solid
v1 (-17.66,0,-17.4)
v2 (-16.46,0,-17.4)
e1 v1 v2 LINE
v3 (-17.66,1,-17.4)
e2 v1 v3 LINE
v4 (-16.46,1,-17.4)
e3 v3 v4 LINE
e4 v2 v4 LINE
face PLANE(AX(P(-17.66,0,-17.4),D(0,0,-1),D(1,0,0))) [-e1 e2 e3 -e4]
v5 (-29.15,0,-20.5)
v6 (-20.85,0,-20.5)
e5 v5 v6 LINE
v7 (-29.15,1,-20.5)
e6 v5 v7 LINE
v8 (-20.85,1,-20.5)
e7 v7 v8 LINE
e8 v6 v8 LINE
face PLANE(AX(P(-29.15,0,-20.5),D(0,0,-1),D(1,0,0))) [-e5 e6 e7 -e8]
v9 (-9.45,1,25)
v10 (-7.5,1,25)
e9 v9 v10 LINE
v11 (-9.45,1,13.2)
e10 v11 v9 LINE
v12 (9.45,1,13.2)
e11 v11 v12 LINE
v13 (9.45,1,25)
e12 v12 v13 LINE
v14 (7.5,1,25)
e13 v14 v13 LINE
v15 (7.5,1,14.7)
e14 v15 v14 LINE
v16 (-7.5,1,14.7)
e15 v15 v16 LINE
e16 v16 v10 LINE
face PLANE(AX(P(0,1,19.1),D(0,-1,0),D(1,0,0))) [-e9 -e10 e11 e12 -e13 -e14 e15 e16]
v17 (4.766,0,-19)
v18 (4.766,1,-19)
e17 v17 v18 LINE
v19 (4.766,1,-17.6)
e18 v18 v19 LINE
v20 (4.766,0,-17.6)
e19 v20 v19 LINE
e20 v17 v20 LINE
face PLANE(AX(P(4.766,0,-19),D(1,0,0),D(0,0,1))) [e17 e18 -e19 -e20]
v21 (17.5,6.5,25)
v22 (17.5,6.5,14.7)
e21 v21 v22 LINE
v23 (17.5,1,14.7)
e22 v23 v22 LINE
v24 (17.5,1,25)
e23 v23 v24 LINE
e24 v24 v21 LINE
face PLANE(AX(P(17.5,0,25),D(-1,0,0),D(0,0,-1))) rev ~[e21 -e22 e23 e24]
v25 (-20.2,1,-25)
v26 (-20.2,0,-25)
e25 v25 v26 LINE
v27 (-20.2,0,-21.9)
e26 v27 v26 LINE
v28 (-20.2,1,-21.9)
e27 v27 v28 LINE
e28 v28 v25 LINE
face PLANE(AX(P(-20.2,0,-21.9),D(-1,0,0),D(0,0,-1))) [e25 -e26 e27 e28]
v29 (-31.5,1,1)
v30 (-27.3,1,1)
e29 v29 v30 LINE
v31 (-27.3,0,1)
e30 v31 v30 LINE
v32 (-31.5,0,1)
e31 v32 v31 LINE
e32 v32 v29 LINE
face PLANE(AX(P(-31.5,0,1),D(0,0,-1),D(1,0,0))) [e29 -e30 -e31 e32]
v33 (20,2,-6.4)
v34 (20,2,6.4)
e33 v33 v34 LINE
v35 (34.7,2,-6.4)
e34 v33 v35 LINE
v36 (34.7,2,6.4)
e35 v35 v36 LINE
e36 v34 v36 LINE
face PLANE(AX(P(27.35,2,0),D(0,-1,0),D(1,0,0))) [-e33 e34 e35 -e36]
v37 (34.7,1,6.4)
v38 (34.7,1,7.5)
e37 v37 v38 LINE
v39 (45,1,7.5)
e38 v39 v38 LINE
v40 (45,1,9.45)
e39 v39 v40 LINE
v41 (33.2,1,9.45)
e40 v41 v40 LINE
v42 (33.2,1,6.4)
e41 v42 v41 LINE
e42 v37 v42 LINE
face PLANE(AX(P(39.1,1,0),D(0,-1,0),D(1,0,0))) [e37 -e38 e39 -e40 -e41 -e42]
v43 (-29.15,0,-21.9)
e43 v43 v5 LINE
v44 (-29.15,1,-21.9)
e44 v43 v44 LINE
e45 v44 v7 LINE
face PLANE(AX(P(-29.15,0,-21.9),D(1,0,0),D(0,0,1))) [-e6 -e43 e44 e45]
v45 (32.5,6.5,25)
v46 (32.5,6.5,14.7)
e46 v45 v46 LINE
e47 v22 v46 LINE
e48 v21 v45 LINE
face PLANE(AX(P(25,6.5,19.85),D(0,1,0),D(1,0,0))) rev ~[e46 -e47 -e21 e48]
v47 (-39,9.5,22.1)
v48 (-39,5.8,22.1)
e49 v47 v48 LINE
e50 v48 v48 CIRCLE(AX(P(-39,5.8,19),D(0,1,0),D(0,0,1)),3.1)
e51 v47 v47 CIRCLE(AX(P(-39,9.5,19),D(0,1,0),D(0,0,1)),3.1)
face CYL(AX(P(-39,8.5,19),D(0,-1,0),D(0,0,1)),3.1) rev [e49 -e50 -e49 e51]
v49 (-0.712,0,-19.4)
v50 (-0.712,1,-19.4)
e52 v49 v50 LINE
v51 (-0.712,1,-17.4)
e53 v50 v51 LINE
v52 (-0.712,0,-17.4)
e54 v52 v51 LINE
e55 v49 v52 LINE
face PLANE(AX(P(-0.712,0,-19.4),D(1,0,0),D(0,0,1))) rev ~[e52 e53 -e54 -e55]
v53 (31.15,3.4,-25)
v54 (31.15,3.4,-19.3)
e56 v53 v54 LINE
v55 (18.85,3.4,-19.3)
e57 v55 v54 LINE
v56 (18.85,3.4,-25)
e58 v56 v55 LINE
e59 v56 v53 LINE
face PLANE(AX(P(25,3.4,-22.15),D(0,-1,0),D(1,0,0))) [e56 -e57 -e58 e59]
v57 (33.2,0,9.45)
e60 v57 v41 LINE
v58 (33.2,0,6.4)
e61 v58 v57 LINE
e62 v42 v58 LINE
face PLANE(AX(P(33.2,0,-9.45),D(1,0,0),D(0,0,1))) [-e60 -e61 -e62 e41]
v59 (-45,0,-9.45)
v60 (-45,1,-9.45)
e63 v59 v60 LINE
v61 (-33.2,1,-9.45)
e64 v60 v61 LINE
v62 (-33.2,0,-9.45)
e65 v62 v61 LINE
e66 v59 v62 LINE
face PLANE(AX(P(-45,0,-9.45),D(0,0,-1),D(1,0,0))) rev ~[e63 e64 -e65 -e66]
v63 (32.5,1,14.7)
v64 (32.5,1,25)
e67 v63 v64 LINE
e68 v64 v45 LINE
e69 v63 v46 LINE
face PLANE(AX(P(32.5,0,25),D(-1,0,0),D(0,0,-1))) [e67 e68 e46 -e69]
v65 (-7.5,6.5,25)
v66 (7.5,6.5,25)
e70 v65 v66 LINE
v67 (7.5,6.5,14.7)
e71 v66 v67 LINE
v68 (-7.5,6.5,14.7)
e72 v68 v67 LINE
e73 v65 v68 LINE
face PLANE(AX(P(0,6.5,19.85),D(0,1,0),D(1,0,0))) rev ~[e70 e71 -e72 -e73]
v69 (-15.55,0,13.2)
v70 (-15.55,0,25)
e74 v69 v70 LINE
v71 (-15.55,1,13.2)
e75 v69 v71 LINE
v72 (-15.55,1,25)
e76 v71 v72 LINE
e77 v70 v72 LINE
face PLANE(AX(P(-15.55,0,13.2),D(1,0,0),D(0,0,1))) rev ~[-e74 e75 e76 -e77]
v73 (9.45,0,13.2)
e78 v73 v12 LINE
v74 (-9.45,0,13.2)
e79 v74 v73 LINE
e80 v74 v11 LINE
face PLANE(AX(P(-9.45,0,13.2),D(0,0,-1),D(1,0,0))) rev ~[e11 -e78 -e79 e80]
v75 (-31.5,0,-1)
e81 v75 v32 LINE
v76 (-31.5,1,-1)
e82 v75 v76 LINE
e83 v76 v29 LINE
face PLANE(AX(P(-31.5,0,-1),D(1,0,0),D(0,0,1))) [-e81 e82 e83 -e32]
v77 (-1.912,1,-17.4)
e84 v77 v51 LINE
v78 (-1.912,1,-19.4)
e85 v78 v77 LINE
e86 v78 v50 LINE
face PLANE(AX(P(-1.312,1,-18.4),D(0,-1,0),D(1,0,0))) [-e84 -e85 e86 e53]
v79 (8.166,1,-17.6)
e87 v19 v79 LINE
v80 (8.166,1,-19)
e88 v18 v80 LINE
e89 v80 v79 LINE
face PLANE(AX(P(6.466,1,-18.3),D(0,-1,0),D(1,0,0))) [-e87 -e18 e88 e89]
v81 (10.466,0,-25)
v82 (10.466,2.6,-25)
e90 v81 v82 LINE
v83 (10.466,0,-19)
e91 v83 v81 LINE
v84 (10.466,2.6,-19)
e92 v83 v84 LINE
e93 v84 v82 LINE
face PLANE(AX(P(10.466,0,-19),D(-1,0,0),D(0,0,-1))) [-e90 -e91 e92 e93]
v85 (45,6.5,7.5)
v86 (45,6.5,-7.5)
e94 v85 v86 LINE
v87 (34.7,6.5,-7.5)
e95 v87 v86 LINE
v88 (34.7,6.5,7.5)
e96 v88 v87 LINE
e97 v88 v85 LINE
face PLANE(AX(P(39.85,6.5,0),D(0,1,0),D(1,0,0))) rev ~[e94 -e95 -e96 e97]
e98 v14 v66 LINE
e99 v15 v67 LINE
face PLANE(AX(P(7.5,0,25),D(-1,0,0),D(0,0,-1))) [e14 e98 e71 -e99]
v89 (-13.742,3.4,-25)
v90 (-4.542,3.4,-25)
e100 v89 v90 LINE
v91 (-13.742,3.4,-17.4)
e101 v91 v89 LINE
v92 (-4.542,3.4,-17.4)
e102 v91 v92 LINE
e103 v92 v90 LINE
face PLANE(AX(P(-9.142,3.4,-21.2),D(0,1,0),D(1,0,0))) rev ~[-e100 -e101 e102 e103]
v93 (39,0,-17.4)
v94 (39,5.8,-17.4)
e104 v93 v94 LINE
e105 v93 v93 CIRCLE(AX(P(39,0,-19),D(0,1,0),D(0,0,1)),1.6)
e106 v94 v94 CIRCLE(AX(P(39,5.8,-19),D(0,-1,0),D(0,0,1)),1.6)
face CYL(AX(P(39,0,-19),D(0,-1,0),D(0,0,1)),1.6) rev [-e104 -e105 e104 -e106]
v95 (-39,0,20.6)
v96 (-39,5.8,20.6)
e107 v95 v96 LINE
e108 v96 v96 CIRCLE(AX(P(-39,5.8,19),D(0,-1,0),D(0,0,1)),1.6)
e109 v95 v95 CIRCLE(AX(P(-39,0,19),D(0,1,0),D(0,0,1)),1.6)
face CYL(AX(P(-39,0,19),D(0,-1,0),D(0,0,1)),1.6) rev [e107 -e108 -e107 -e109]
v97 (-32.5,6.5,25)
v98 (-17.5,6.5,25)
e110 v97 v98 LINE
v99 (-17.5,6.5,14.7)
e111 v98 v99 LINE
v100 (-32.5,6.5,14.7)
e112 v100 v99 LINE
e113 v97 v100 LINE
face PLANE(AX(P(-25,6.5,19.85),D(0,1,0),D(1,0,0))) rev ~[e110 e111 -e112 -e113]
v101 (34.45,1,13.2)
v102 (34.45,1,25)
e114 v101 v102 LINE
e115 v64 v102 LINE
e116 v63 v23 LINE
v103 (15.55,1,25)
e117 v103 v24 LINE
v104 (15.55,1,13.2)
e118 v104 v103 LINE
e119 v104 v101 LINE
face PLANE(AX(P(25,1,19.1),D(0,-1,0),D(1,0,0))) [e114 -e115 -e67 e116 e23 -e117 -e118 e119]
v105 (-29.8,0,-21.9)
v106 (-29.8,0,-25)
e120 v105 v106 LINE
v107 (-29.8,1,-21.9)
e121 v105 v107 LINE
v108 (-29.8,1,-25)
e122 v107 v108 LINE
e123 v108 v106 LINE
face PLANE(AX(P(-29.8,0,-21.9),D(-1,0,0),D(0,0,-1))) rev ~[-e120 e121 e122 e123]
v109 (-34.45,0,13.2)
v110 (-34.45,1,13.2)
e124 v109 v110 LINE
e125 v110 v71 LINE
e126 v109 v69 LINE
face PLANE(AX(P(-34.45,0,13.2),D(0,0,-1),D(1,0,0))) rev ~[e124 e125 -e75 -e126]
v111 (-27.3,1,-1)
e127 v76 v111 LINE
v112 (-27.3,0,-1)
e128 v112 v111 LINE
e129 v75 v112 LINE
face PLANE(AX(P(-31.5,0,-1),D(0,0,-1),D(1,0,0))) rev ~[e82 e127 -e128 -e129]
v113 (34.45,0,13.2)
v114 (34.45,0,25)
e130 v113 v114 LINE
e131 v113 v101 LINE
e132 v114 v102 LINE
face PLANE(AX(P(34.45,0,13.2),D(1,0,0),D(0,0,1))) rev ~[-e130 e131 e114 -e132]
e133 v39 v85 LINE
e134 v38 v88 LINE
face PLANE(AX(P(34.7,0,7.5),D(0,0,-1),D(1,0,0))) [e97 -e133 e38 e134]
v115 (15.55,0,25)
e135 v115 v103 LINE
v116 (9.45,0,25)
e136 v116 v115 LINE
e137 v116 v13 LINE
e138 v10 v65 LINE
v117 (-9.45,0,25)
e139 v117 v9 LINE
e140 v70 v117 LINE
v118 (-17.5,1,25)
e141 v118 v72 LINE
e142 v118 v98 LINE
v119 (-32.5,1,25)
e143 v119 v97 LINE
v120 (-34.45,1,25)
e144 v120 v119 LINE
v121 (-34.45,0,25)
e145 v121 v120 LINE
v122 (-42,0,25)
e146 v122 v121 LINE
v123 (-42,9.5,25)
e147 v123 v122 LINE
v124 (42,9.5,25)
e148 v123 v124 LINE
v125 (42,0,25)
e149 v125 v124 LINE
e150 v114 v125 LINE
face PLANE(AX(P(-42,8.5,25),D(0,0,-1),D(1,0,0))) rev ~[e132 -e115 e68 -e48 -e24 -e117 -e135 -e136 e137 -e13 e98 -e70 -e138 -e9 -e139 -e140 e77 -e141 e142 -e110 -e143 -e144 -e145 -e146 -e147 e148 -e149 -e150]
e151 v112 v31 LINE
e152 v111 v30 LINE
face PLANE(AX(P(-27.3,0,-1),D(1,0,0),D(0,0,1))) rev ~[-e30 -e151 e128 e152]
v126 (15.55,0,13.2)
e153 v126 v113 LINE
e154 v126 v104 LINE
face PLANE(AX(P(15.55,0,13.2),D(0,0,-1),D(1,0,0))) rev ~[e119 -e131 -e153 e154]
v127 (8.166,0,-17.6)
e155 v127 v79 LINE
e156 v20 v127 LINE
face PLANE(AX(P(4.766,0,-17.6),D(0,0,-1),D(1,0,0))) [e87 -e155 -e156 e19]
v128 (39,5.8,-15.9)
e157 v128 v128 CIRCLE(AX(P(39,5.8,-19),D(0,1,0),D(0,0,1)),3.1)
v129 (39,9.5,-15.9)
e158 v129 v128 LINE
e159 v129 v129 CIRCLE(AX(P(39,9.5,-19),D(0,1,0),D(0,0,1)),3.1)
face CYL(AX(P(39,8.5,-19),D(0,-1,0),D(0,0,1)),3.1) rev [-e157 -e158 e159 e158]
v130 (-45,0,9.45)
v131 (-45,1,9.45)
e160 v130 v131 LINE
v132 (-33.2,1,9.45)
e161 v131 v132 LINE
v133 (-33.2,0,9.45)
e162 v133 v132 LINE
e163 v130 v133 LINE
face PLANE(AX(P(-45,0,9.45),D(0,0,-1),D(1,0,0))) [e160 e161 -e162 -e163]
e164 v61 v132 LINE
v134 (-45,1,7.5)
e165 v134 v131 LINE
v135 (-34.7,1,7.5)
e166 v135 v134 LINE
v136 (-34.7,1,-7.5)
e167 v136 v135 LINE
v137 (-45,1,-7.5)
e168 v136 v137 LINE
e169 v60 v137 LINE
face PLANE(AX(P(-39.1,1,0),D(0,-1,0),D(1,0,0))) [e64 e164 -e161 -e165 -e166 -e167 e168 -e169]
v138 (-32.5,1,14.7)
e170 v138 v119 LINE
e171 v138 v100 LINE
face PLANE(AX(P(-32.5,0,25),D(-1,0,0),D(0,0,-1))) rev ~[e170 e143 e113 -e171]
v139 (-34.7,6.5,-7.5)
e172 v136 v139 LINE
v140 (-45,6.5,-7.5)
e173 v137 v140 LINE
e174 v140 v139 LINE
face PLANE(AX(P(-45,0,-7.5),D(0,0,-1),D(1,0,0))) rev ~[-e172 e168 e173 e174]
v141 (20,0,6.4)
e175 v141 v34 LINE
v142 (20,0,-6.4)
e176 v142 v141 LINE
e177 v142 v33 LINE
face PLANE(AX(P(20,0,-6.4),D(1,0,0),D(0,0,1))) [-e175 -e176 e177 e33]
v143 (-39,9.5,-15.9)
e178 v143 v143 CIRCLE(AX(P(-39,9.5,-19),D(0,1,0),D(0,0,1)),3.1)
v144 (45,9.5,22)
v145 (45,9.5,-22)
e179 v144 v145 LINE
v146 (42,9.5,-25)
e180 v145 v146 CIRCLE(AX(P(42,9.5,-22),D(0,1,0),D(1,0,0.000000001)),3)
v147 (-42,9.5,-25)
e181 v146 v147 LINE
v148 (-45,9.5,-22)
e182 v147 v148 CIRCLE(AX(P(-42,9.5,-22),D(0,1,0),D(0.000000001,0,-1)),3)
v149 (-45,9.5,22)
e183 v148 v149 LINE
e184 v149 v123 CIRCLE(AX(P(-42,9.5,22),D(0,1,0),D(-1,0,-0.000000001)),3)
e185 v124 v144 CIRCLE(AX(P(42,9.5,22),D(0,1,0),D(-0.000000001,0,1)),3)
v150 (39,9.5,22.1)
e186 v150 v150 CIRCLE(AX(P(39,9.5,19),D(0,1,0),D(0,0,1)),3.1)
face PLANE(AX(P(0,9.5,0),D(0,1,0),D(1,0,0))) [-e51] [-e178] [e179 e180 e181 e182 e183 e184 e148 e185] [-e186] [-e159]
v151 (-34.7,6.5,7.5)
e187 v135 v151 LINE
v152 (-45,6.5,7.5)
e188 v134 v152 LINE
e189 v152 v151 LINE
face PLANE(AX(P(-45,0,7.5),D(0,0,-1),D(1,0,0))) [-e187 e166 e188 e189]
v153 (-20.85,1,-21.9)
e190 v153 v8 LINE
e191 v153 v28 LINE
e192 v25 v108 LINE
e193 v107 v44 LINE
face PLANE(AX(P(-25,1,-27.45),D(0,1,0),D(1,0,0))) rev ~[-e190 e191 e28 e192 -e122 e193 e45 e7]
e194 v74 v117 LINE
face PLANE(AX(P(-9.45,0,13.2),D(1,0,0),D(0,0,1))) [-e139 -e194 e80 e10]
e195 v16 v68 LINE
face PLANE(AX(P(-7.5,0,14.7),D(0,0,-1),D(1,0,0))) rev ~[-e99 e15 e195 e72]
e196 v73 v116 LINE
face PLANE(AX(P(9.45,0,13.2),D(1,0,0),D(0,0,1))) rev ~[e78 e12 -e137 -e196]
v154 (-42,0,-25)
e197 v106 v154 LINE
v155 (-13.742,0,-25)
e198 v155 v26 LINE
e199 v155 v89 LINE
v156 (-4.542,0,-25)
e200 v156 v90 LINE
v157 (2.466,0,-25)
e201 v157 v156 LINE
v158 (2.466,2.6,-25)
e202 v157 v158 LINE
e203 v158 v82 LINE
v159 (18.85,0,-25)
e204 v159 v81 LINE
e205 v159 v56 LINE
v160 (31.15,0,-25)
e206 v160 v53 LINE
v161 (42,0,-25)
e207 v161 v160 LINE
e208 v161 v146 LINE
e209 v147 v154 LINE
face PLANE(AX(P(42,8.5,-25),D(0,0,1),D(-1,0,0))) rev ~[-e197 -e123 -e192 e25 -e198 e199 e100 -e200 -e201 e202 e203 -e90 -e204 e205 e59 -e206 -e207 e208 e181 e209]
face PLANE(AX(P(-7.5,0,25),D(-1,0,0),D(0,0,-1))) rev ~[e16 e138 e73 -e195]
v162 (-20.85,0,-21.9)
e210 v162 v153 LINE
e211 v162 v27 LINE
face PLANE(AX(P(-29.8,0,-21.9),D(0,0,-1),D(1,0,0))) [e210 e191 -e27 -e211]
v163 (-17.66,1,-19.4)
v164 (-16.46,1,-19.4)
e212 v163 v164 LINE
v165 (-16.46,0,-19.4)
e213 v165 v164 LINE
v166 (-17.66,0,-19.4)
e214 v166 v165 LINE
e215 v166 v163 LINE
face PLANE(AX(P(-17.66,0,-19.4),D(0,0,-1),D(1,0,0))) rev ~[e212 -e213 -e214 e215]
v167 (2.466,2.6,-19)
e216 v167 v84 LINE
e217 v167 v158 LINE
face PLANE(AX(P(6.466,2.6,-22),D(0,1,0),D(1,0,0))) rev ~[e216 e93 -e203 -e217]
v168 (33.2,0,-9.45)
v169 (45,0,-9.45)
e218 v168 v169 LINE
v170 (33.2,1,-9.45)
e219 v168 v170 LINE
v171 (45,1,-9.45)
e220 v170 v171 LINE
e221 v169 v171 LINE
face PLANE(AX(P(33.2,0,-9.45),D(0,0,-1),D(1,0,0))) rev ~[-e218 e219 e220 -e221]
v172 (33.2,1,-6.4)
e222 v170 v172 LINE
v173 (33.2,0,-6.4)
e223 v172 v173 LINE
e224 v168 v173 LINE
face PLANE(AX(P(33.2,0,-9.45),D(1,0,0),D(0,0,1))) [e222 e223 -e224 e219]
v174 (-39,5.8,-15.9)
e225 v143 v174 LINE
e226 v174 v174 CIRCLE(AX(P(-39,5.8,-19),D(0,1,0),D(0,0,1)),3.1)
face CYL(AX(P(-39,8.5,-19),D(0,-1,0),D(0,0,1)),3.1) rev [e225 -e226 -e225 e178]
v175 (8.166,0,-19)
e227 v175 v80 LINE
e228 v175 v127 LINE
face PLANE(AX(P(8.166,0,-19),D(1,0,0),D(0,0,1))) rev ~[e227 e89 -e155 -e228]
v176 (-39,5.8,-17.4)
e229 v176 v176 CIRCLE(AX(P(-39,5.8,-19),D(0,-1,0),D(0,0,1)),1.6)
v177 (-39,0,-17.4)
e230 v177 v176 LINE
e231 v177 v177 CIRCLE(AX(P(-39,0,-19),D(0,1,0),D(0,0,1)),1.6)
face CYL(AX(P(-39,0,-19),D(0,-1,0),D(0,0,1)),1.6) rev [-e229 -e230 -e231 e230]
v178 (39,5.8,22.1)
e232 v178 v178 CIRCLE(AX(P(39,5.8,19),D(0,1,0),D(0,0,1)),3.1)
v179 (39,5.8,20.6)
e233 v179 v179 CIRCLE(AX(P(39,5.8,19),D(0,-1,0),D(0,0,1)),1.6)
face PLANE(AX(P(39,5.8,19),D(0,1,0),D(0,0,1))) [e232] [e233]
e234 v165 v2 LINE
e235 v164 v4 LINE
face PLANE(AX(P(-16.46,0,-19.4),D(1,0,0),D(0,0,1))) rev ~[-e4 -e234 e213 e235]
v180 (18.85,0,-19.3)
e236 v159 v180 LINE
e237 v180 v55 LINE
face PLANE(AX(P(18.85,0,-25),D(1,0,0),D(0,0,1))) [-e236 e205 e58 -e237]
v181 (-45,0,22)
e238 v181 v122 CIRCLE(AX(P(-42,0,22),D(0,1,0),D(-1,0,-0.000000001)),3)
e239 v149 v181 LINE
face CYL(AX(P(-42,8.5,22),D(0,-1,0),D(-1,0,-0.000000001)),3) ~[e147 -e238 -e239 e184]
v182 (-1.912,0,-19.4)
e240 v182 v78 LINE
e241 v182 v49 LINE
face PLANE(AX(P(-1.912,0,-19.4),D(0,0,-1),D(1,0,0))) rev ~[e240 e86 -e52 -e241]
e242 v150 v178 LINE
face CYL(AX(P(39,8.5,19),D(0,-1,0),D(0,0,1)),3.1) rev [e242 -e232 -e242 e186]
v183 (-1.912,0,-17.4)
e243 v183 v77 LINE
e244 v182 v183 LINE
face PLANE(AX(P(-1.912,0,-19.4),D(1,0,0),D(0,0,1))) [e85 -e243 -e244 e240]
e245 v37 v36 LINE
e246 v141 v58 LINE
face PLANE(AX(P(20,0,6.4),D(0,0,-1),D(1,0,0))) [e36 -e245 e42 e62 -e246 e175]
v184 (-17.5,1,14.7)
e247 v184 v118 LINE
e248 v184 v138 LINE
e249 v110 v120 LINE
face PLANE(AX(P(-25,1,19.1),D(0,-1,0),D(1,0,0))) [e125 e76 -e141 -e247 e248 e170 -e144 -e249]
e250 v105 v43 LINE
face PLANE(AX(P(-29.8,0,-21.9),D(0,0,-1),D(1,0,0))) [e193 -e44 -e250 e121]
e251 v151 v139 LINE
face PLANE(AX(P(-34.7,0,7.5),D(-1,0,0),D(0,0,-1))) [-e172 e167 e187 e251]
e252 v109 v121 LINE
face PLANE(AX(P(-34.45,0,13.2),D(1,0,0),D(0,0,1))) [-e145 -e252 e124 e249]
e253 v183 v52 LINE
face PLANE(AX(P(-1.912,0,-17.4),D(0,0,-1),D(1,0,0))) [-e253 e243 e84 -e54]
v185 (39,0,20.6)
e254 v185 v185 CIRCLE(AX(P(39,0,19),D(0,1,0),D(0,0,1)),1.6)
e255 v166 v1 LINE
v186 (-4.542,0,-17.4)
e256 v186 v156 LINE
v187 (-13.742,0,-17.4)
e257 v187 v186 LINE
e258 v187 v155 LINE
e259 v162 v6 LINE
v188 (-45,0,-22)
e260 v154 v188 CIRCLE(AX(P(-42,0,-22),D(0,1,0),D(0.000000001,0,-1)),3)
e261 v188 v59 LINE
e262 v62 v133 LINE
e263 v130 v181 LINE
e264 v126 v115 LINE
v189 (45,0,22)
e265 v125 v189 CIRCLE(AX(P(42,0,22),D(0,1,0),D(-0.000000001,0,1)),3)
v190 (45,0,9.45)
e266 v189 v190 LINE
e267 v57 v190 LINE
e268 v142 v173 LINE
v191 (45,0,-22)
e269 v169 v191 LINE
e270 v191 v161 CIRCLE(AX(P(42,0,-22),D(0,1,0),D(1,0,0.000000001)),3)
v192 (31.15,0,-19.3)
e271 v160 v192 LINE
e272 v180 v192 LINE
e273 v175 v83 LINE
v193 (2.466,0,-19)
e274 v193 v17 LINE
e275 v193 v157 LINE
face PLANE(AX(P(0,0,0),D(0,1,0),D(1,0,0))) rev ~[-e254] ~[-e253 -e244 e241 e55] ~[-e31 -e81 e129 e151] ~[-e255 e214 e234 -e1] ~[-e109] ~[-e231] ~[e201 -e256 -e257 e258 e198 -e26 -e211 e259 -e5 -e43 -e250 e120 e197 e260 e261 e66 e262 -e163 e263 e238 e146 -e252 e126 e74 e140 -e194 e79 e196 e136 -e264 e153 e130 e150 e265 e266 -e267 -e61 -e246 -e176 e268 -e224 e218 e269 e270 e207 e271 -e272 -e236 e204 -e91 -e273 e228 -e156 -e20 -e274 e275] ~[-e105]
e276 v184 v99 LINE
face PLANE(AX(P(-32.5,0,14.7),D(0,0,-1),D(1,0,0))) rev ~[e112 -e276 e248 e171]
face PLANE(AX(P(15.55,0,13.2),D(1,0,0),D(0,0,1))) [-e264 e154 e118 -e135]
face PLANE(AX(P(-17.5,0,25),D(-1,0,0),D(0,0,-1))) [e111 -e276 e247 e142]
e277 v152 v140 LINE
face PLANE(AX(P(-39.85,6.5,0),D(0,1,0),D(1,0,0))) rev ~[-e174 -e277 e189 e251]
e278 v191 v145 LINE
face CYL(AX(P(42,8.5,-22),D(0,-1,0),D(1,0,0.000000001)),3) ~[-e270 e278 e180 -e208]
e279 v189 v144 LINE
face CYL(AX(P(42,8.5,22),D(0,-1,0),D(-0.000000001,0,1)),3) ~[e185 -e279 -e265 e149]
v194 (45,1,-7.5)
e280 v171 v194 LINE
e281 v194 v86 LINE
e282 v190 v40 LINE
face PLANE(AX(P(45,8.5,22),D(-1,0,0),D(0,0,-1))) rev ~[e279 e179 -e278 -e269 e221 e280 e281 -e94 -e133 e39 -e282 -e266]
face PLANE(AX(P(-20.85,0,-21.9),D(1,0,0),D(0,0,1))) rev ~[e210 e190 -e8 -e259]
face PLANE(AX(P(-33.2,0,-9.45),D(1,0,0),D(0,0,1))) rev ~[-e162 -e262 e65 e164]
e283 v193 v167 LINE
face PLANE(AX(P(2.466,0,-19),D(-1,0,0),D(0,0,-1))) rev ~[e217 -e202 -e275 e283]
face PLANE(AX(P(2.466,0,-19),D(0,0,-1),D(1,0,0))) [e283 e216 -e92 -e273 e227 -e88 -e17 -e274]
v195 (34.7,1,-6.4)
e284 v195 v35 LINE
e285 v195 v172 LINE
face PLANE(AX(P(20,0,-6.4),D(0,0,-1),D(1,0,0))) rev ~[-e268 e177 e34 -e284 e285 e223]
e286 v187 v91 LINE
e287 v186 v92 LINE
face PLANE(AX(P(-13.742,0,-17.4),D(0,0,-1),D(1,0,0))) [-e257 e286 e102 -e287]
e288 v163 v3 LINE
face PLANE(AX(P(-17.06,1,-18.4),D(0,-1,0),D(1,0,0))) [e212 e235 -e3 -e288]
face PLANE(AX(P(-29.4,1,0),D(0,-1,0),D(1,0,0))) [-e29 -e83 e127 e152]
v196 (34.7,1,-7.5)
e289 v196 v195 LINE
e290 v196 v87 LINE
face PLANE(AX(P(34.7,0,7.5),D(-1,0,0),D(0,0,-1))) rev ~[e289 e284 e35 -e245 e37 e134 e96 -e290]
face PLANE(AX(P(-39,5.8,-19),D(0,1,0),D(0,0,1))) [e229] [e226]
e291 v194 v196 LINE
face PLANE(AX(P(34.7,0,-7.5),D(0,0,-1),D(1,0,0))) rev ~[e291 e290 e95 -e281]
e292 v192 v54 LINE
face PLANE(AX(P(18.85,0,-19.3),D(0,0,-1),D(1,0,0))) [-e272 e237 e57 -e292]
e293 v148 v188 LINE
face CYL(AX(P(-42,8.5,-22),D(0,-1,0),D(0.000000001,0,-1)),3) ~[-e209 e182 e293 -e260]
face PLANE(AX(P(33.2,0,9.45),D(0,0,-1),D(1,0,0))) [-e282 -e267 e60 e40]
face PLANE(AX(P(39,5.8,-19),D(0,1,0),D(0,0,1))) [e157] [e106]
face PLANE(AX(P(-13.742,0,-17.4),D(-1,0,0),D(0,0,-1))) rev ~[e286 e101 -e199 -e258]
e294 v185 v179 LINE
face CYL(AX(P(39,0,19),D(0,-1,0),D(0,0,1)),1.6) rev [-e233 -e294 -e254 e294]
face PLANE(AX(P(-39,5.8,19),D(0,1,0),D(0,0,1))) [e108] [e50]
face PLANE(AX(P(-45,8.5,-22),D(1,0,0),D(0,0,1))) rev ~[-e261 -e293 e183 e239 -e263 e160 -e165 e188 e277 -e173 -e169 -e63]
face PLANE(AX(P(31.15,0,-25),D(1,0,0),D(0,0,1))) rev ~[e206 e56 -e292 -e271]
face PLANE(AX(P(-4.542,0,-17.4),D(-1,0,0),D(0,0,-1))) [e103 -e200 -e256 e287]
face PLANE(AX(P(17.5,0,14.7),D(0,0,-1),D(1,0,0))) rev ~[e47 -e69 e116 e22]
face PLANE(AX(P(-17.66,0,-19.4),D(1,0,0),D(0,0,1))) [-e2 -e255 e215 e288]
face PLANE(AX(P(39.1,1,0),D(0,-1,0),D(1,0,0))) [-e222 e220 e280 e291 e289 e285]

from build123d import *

# Parameters (mm, degrees)
SKETCH_1_R          = 1.6
EXTRUDE_1_DEPTH     = 8.5
CUT_EXTRUDE_START   = -8.5
SKETCH_2_W          = 15
SKETCH_2_H          = 10.3
SKETCH_2_W_2        = 10.3
SKETCH_2_H_2        = 15
CUT_EXTRUDE_1_DEPTH = 6.5
SKETCH_3_W          = 9.2
SKETCH_3_H          = 7.6
CUT_EXTRUDE_2_DEPTH = 3.4
SKETCH_4_W          = 8
SKETCH_4_H          = 6
CUT_EXTRUDE_3_DEPTH = 2.6
SKETCH_7_W          = 9.6
SKETCH_7_H          = 11.1
CUT_EXTRUDE_4_DEPTH = 1
SKETCH_8_W          = 12.3
SKETCH_8_H          = 5.7
CUT_EXTRUDE_5_DEPTH = 3.4
SKETCH_8_3_W        = 14.7
SKETCH_8_3_H        = 12.8
CUT_EXTRUDE_6_DEPTH = 2
SKETCH_8_4_W        = 11.8
SKETCH_8_4_H        = 18.9
SKETCH_8_4_W_2      = 4.2
SKETCH_8_4_H_2      = 2
SKETCH_8_4_W_3      = 8.3
SKETCH_8_4_H_3      = 1.4
SKETCH_8_4_W_4      = 1.2
SKETCH_8_4_W_5      = 3.4
SKETCH_8_4_W_6      = 18.9
SKETCH_8_4_H_4      = 11.8
CUT_EXTRUDE_7_DEPTH = 1
SKETCH_9_R          = 3.1
CUT_EXTRUDE_8_DEPTH = 2.7
SKETCH_10_R         = 3.1
EXTRUDE_2_DEPTH     = 1


with BuildPart() as part:
    # 草图1 → 凸台-拉伸1 (new body)
    with BuildSketch(Plane(origin=(0, 0, 0), x_dir=(1, 0, 0), z_dir=(0, 1, 0))):
        with BuildLine():
            Line((-42, -25), (42, -25))
            ThreePointArc((42, -25), (44.121320344, -24.121320344), (45, -22))
            Line((45, -22), (45, 22))
            ThreePointArc((45, 22), (44.121320344, 24.121320344), (42, 25))
            Line((42, 25), (-42, 25))
            ThreePointArc((-42, 25), (-44.121320344, 24.121320344), (-45, 22))
            Line((-45, 22), (-45, -22))
            ThreePointArc((-45, -22), (-44.121320344, -24.121320344), (-42, -25))
        make_face()
        with Locations(Location((-39, 19, 0), (0, 0, 270))):
            Circle(SKETCH_1_R, mode=Mode.SUBTRACT)
        with Locations(Location((39, 19, 0), (0, 0, 270))):
            Circle(SKETCH_1_R, mode=Mode.SUBTRACT)
        with Locations(Location((-39, -19, 0), (0, 0, 270))):
            Circle(SKETCH_1_R, mode=Mode.SUBTRACT)
        with Locations(Location((39, -19, 0), (0, 0, 270))):
            Circle(SKETCH_1_R, mode=Mode.SUBTRACT)
    extrude(amount=EXTRUDE_1_DEPTH)

    # 草图2 → 切除-拉伸1 (cut)
    with BuildSketch(Plane(origin=(0, 8.5, 0), x_dir=(1, 0, 0), z_dir=(0, 1, 0)).offset(CUT_EXTRUDE_START)):
        with Locations((0, -19.85)):
            Rectangle(SKETCH_2_W, SKETCH_2_H)
        with Locations((-25, -19.85)):
            Rectangle(SKETCH_2_W, SKETCH_2_H)
        with Locations((25, -19.85)):
            Rectangle(SKETCH_2_W, SKETCH_2_H)
        with Locations((-39.85, 0)):
            Rectangle(SKETCH_2_W_2, SKETCH_2_H_2)
        with Locations((39.85, 0)):
            Rectangle(SKETCH_2_W_2, SKETCH_2_H_2)
    extrude(amount=CUT_EXTRUDE_1_DEPTH, mode=Mode.SUBTRACT)

    # 草图3 → 切除-拉伸2 (cut)
    with BuildSketch(Plane(origin=(0, 8.5, 0), x_dir=(1, 0, 0), z_dir=(0, 1, 0)).offset(CUT_EXTRUDE_START)):
        with Locations((-9.142, 21.2)):
            Rectangle(SKETCH_3_W, SKETCH_3_H)
    extrude(amount=CUT_EXTRUDE_2_DEPTH, mode=Mode.SUBTRACT)

    # 草图4 → 切除-拉伸3 (cut)
    with BuildSketch(Plane(origin=(0, 8.5, 0), x_dir=(1, 0, 0), z_dir=(0, 1, 0)).offset(CUT_EXTRUDE_START)):
        with Locations((6.466, 22)):
            Rectangle(SKETCH_4_W, SKETCH_4_H)
    extrude(amount=CUT_EXTRUDE_3_DEPTH, mode=Mode.SUBTRACT)

    # 草图7 → 切除-拉伸4 (cut)
    with BuildSketch(Plane(origin=(0, 8.5, 0), x_dir=(1, 0, 0), z_dir=(0, 1, 0)).offset(CUT_EXTRUDE_START)):
        with Locations((-25, 27.45)):
            Rectangle(SKETCH_7_W, SKETCH_7_H)
    extrude(amount=CUT_EXTRUDE_4_DEPTH, mode=Mode.SUBTRACT)

    # 草图8 → 切除-拉伸5 (cut)
    with BuildSketch(Plane.XZ):
        with Locations((25, -22.15)):
            Rectangle(SKETCH_8_W, SKETCH_8_H)
    extrude(amount=-CUT_EXTRUDE_5_DEPTH, mode=Mode.SUBTRACT)

    # 草图8<3> → 切除-拉伸6 (cut)
    with BuildSketch(Plane.XZ):
        with Locations((27.35, 0)):
            Rectangle(SKETCH_8_3_W, SKETCH_8_3_H)
    extrude(amount=-CUT_EXTRUDE_6_DEPTH, mode=Mode.SUBTRACT)

    # 草图8<4> → 切除-拉伸7 (cut)
    with BuildSketch(Plane.XZ):
        with Locations((-39.1, 0)):
            Rectangle(SKETCH_8_4_W, SKETCH_8_4_H)
        with Locations((-29.4, 0)):
            Rectangle(SKETCH_8_4_W_2, SKETCH_8_4_H_2)
        with Locations((-25, -21.2)):
            Rectangle(SKETCH_8_4_W_3, SKETCH_8_4_H_3)
        with Locations((-17.06, -18.4)):
            Rectangle(SKETCH_8_4_W_4, SKETCH_8_4_H_2)
        with Locations((-1.312, -18.4)):
            Rectangle(SKETCH_8_4_W_4, SKETCH_8_4_H_2)
        with Locations((6.466, -18.3)):
            Rectangle(SKETCH_8_4_W_5, SKETCH_8_4_H_3)
        with Locations((39.1, 0)):
            Rectangle(SKETCH_8_4_W, SKETCH_8_4_H)
        with Locations((-25, 19.1)):
            Rectangle(SKETCH_8_4_W_6, SKETCH_8_4_H_4)
        with Locations((0, 19.1)):
            Rectangle(SKETCH_8_4_W_6, SKETCH_8_4_H_4)
        with Locations((25, 19.1)):
            Rectangle(SKETCH_8_4_W_6, SKETCH_8_4_H_4)
    extrude(amount=-CUT_EXTRUDE_7_DEPTH, mode=Mode.SUBTRACT)

    # 草图9 → 切除-拉伸8 (cut)
    with BuildSketch(Plane(origin=(0, 8.5, 0), x_dir=(1, 0, 0), z_dir=(0, 1, 0))):
        with Locations(Location((-39, 19, 0), (0, 0, 270))):
            Circle(SKETCH_9_R)
        with Locations(Location((-39, -19, 0), (0, 0, 270))):
            Circle(SKETCH_9_R)
        with Locations(Location((39, 19, 0), (0, 0, 270))):
            Circle(SKETCH_9_R)
        with Locations(Location((39, -19, 0), (0, 0, 270))):
            Circle(SKETCH_9_R)
    extrude(amount=-CUT_EXTRUDE_8_DEPTH, mode=Mode.SUBTRACT)

    # 草图10 → 凸台-拉伸2 (add)
    with BuildSketch(Plane(origin=(0, 8.5, 0), x_dir=(1, 0, 0), z_dir=(0, 1, 0))):
        with BuildLine():
            Line((-42, -25), (42, -25))
            ThreePointArc((42, -25), (44.121320344, -24.121320344), (45, -22))
            Line((45, -22), (45, 22))
            ThreePointArc((45, 22), (44.121320344, 24.121320344), (42, 25))
            Line((42, 25), (-42, 25))
            ThreePointArc((-42, 25), (-44.121320344, 24.121320344), (-45, 22))
            Line((-45, 22), (-45, -22))
            ThreePointArc((-45, -22), (-44.121320344, -24.121320344), (-42, -25))
        make_face()
        with Locations(Location((39, -19, 0), (0, 0, 270))):
            Circle(SKETCH_10_R, mode=Mode.SUBTRACT)
        with Locations(Location((39, 19, 0), (0, 0, 270))):
            Circle(SKETCH_10_R, mode=Mode.SUBTRACT)
        with Locations(Location((-39, -19, 0), (0, 0, 270))):
            Circle(SKETCH_10_R, mode=Mode.SUBTRACT)
        with Locations(Location((-39, 19, 0), (0, 0, 270))):
            Circle(SKETCH_10_R, mode=Mode.SUBTRACT)
    extrude(amount=EXTRUDE_2_DEPTH)


solid = part.part
